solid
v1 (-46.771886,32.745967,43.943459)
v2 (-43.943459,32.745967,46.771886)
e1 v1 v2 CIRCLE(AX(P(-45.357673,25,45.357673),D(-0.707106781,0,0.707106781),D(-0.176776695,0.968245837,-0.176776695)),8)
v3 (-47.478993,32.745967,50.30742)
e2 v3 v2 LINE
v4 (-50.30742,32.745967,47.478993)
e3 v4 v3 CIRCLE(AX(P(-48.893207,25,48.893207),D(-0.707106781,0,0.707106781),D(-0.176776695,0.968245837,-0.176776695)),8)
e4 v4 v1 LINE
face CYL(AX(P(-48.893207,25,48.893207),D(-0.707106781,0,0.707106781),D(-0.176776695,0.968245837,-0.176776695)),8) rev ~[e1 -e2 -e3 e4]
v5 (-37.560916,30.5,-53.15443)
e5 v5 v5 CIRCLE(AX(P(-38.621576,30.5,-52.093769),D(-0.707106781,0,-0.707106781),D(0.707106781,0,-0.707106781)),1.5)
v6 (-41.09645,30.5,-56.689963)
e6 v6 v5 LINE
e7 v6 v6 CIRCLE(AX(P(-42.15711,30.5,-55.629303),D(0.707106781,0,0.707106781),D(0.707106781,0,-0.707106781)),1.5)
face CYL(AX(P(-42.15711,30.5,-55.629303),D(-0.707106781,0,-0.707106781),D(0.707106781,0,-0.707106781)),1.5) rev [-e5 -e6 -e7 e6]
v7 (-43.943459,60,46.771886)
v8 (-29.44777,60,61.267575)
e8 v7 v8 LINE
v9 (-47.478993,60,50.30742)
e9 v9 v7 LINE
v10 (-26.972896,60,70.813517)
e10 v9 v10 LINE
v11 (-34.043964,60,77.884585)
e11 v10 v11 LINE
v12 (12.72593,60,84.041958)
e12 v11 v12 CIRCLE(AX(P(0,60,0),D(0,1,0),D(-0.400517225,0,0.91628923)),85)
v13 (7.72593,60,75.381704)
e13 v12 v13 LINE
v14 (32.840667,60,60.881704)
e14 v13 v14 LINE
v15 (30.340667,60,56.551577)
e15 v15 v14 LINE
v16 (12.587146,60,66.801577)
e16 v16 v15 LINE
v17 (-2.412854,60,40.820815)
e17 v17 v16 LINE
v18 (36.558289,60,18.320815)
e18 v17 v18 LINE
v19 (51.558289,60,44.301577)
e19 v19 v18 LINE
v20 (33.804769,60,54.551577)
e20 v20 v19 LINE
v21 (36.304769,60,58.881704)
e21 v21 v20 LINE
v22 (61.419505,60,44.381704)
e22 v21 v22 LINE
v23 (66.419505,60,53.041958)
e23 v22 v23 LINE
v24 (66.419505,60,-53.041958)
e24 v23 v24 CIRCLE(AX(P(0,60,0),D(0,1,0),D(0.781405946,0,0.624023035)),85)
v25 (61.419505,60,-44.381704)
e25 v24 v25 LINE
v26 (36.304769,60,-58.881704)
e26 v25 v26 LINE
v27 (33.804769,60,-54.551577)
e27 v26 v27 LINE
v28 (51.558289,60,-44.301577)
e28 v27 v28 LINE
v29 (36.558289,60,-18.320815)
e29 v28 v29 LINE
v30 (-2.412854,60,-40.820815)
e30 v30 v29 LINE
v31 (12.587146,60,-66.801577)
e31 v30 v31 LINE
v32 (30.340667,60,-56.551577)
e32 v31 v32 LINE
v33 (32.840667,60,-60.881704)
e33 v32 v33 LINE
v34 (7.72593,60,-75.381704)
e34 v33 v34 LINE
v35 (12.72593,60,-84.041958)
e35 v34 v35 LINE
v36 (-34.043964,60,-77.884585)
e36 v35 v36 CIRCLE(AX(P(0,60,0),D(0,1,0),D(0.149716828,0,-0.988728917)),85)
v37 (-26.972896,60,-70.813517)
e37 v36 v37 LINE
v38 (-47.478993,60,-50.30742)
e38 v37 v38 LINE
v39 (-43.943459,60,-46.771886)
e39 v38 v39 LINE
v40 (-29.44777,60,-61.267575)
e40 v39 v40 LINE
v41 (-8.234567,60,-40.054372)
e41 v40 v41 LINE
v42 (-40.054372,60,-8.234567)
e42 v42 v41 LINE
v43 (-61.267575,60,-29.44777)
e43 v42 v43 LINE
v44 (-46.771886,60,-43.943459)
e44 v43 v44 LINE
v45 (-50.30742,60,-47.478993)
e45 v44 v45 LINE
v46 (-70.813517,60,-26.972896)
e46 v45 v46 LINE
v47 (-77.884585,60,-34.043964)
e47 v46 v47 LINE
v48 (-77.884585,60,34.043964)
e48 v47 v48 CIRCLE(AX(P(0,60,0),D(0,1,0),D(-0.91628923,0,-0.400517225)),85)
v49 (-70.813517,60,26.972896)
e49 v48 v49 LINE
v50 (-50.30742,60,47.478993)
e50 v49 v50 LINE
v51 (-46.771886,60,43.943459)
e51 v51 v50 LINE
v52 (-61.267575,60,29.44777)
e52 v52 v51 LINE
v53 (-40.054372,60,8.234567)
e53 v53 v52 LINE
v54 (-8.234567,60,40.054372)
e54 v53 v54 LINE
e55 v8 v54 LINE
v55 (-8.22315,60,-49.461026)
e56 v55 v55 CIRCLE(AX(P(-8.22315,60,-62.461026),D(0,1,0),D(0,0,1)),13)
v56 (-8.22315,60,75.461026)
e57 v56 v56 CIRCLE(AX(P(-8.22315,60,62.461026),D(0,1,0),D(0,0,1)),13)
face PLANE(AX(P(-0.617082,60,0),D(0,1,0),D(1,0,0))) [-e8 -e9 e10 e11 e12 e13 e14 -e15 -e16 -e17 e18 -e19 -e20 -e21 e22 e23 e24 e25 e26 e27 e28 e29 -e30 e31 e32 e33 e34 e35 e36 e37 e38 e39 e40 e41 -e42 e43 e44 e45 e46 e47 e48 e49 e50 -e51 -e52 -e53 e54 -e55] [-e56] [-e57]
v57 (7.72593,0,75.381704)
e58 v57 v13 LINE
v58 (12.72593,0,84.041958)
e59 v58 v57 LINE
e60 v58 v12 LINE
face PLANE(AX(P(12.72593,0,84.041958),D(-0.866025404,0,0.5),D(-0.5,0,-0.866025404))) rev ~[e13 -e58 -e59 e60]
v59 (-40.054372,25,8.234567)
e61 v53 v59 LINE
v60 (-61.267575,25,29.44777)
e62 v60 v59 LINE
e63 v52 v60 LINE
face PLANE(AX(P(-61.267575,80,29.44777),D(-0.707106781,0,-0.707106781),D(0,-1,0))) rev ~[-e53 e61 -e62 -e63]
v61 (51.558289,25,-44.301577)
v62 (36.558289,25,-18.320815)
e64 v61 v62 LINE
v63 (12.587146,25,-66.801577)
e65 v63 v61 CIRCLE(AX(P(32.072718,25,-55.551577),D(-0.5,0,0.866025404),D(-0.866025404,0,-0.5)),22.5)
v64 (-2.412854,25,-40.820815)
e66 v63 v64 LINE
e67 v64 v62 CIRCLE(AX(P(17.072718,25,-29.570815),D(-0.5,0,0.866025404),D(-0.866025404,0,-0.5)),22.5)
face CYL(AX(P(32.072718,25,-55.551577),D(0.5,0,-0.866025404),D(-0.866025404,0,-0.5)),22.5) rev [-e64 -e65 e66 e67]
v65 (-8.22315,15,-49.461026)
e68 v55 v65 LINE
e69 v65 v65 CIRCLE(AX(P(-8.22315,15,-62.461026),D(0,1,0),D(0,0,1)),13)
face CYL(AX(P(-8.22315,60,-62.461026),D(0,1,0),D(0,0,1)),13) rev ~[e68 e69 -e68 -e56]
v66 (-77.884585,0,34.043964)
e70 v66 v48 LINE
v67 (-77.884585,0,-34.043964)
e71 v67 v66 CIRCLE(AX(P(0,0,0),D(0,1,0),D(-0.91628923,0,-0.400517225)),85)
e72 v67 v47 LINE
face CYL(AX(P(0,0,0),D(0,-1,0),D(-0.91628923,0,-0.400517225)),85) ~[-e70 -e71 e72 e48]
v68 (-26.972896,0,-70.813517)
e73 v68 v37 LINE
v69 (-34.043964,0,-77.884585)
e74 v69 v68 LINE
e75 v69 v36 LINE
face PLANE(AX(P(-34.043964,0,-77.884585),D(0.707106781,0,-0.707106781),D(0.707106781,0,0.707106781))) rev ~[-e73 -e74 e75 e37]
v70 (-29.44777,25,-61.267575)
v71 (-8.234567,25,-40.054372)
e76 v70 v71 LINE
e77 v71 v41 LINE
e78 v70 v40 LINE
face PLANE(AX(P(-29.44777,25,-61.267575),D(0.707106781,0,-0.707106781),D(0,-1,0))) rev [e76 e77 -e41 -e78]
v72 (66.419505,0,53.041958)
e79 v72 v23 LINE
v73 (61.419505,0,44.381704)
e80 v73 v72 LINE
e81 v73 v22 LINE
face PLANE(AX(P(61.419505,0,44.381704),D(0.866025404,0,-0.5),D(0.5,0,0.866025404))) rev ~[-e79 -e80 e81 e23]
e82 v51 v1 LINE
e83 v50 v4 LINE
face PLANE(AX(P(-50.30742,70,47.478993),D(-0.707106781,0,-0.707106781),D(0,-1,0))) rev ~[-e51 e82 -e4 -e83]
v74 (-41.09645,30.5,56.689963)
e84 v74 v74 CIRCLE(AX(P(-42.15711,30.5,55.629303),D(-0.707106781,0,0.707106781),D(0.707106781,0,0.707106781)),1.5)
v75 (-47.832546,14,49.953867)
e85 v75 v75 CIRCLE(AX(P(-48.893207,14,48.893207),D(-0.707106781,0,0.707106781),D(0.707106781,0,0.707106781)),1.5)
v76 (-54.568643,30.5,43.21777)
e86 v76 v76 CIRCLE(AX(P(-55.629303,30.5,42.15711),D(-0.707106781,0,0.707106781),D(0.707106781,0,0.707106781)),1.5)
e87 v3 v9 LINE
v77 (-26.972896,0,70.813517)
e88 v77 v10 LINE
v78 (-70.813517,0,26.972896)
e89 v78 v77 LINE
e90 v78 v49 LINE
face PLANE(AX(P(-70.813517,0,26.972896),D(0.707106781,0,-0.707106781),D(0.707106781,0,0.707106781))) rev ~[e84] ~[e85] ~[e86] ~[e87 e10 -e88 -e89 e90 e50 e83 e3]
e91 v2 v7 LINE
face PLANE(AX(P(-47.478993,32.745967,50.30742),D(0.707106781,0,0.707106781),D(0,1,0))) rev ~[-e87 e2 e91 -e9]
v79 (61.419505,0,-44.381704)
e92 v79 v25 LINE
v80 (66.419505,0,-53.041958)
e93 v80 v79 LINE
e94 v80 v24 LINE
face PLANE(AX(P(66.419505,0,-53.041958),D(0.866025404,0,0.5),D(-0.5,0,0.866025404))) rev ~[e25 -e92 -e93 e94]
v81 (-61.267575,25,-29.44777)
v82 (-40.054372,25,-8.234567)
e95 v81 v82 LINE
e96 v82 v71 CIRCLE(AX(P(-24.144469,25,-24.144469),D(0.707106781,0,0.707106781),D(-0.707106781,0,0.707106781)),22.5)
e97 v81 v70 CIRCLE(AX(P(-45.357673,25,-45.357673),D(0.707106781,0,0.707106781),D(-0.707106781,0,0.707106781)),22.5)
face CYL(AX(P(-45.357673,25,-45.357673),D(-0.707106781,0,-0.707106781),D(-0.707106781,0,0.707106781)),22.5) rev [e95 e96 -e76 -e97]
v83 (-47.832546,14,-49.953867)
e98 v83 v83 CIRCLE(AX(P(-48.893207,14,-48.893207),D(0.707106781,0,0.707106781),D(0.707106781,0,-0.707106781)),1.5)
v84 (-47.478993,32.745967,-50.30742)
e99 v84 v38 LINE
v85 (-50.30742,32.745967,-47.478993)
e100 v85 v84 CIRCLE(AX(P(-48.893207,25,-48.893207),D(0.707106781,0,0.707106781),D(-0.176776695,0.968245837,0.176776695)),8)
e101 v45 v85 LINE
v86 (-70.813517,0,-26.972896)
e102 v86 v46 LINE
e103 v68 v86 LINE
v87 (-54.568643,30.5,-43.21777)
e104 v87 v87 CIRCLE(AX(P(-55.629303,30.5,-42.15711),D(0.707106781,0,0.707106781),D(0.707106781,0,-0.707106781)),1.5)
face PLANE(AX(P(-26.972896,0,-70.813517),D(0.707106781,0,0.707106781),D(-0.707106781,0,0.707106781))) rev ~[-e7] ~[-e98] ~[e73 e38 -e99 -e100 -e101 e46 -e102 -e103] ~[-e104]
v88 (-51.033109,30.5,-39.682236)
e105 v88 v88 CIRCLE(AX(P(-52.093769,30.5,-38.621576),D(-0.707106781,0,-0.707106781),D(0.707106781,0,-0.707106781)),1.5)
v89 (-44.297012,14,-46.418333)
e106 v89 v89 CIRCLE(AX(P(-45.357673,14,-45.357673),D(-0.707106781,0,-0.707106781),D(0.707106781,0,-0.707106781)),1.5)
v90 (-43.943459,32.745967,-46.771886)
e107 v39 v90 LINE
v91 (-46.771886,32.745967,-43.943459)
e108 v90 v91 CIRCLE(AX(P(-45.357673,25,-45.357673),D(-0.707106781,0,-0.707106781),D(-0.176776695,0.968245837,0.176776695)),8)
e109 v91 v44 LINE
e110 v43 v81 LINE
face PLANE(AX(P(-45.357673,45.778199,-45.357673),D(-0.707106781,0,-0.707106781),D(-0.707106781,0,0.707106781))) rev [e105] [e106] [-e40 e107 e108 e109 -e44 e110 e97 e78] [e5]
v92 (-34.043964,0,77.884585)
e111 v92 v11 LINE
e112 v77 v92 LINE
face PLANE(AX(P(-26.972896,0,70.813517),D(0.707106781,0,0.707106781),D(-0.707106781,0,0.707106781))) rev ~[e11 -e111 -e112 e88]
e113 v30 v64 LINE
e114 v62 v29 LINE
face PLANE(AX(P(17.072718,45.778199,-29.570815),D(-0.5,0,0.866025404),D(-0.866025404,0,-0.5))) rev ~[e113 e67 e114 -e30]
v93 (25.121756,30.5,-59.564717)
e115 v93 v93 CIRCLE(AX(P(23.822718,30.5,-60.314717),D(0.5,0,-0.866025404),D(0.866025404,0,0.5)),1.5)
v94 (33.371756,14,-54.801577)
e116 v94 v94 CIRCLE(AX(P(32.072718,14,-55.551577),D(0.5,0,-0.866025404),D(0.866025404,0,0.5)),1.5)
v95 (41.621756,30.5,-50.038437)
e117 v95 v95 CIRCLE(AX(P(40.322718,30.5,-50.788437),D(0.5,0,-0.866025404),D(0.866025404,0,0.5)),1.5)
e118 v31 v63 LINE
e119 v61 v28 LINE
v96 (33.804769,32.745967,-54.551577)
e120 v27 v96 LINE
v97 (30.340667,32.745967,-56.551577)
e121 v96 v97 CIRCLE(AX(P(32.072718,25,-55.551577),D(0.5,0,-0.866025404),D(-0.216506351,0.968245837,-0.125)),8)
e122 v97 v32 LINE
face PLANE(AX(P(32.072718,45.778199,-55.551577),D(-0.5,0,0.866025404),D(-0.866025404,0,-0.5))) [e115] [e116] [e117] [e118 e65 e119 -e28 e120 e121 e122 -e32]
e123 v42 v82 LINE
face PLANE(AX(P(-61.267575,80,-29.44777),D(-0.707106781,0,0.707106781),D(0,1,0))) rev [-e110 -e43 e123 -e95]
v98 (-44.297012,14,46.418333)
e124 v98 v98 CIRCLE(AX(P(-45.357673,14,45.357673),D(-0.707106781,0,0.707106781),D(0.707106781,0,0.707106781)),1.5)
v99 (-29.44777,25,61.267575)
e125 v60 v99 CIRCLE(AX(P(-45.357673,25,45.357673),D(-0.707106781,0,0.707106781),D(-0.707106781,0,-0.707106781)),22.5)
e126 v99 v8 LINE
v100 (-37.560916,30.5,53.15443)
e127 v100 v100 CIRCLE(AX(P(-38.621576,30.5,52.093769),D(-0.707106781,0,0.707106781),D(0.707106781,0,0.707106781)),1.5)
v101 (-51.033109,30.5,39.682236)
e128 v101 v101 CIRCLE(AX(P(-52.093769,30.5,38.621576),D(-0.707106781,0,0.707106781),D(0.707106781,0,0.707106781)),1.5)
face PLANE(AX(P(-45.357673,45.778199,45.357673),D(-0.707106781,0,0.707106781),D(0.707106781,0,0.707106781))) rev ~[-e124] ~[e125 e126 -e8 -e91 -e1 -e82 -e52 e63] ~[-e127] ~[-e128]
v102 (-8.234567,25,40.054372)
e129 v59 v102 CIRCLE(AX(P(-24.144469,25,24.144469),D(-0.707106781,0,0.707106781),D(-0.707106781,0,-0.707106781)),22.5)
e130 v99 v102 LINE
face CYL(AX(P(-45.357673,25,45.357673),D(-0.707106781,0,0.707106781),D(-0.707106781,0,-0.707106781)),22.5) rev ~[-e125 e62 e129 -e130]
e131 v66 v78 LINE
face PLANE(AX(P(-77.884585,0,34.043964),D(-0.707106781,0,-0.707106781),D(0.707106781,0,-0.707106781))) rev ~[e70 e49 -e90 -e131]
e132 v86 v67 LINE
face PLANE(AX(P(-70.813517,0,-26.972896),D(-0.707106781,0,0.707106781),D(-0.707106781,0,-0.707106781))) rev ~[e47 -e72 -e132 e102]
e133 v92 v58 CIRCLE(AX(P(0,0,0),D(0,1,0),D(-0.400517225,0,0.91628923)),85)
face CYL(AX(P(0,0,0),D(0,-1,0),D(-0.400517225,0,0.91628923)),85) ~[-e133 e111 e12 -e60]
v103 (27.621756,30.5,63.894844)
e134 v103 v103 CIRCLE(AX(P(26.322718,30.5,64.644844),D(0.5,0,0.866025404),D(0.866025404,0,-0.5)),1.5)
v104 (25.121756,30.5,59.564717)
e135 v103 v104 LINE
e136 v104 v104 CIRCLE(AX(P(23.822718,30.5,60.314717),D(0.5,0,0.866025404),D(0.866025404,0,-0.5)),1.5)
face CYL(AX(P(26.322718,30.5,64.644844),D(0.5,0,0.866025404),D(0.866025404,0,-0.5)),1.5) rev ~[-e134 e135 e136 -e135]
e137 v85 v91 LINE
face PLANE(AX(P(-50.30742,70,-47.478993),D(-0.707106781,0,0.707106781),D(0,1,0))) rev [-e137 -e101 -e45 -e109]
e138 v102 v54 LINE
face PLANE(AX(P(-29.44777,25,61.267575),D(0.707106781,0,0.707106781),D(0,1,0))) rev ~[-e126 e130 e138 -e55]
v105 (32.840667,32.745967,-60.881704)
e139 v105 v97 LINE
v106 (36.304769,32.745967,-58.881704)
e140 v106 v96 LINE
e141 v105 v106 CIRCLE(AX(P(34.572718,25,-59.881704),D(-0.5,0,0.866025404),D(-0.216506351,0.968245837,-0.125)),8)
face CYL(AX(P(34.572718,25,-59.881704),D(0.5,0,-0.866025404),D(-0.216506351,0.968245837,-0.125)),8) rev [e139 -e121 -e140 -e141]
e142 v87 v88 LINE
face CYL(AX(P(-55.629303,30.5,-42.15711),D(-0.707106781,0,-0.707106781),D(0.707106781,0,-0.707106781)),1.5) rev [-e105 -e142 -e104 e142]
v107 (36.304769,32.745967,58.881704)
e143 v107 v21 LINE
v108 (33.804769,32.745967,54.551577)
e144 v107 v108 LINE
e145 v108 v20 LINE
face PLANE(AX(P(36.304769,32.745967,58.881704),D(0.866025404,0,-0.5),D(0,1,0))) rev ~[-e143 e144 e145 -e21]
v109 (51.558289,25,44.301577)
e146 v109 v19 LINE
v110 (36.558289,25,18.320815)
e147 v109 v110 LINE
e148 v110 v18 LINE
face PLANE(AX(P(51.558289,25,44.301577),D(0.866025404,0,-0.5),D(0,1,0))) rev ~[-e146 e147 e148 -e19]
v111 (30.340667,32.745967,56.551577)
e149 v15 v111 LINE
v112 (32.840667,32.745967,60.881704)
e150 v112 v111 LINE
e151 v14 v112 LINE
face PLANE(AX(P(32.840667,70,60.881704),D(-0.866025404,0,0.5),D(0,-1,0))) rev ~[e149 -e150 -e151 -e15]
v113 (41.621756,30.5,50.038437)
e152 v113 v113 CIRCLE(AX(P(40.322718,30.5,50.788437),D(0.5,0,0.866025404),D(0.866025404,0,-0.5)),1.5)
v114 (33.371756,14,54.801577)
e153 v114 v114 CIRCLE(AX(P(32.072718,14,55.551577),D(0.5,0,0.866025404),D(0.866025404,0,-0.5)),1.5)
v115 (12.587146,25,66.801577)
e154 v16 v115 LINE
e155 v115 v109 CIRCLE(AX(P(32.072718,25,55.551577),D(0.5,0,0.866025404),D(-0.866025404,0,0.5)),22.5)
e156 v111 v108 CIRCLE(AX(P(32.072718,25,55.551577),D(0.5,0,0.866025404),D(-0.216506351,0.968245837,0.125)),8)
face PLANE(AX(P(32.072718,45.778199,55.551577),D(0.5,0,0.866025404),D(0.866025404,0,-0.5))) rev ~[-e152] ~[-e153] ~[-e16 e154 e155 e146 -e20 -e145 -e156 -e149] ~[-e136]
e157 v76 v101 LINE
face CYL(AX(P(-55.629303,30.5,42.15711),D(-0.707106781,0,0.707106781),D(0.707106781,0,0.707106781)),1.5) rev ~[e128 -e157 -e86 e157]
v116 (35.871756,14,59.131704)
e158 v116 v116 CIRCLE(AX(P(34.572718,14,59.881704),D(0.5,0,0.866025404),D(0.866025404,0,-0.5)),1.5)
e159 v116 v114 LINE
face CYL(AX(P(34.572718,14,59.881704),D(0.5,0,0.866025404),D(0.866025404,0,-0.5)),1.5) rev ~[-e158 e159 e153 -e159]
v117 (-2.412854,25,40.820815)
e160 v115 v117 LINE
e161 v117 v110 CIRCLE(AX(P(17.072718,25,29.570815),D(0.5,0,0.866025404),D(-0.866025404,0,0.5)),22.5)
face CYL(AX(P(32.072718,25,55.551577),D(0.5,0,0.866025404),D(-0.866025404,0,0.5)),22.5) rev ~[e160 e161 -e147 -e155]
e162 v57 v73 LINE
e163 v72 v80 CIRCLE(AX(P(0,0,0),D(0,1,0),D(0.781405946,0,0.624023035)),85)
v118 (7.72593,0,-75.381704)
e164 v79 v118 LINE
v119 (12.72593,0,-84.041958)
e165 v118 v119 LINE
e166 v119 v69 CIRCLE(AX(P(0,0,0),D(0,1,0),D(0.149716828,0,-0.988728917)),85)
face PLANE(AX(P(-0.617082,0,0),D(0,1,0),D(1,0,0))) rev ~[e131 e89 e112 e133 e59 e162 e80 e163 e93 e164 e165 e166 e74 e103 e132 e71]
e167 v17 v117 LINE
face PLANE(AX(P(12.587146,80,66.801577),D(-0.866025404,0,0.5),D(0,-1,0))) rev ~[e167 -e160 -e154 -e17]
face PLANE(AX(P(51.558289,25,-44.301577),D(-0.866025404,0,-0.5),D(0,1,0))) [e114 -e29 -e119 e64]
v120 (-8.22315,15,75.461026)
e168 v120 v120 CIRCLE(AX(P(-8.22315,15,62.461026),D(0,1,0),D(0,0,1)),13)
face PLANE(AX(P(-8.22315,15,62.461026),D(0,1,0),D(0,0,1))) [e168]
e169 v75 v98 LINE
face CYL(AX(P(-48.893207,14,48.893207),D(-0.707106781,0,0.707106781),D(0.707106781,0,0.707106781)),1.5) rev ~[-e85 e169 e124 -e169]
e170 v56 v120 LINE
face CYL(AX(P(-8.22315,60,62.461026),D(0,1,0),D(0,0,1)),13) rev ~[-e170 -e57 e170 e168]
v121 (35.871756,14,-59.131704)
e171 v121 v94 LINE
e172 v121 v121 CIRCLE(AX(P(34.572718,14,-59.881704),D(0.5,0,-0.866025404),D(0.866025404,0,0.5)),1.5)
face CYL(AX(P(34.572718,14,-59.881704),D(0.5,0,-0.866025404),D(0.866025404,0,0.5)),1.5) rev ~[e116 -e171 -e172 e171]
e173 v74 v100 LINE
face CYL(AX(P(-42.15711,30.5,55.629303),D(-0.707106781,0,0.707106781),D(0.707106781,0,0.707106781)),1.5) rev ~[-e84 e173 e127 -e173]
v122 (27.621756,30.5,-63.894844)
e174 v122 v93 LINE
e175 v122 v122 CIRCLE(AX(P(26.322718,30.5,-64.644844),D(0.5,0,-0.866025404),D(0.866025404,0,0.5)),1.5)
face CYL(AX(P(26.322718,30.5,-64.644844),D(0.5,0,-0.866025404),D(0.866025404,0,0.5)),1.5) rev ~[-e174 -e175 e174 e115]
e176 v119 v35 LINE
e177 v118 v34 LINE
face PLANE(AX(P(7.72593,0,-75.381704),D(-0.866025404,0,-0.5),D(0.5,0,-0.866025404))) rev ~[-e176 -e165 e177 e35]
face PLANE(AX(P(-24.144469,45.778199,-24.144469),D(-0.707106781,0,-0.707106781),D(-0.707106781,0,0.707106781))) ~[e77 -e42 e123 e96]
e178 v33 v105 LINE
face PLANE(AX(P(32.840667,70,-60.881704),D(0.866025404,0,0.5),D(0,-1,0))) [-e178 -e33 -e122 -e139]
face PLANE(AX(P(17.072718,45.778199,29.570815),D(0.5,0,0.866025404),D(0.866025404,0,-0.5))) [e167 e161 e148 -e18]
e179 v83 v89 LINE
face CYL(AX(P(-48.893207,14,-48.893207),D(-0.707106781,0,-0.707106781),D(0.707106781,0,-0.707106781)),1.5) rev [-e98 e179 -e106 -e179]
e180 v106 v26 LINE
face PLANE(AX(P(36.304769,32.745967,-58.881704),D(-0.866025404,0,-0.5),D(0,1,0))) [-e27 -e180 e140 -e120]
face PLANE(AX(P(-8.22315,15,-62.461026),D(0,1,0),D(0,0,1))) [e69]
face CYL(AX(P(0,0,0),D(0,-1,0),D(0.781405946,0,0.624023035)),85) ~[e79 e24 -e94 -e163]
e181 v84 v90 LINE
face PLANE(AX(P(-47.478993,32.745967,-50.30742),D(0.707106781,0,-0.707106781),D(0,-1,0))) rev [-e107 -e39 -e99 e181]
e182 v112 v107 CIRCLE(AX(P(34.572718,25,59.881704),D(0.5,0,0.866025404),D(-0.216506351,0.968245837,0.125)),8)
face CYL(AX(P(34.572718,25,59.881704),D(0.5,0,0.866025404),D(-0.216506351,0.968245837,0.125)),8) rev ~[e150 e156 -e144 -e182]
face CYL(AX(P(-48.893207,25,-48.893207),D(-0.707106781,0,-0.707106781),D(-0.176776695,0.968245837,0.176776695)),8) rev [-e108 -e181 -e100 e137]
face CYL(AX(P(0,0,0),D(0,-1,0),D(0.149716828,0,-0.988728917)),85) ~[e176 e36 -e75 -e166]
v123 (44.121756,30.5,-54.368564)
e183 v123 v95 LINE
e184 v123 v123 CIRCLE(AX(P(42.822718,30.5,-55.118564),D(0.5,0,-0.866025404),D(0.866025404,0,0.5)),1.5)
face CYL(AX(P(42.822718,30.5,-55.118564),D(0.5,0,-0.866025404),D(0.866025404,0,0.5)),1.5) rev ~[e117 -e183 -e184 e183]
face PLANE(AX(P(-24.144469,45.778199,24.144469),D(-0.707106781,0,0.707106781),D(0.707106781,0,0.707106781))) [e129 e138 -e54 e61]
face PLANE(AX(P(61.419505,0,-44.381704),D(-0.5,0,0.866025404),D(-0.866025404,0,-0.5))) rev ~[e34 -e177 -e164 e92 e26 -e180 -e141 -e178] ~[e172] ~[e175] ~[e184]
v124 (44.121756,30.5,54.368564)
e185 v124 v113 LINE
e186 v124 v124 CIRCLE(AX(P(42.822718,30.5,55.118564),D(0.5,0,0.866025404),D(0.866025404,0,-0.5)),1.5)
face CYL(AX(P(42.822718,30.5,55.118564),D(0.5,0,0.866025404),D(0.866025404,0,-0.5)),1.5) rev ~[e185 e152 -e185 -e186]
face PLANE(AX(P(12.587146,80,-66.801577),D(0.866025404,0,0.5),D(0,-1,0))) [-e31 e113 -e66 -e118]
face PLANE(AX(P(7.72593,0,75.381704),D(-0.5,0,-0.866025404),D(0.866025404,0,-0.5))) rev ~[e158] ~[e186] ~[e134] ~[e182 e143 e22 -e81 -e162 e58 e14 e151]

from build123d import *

# Parameters (mm, degrees)
BASE_DEPTH                = 60
MOTOR_TRASEIRO_START      = -5
MOTOR_TRASEIRO_DEPTH      = 30
ESBO_O3_10_R              = 1.5
MOTOR_EIXO_DEPTH          = 25
PADR_OCIRCULAR1_COUNT     = 2
PADR_OCIRCULAR1_ANGLE     = 285
ESPELHAR3_START           = -5
ESPELHAR3_COPY_1_DEPTH    = 30
ESPELHAR3_COPY_2_SKETCH_R = 1.5
ESPELHAR3_COPY_2_DEPTH    = 25
ESBO_O16_R                = 13
CAPACITORES_DEPTH         = 45


with BuildPart() as part:
    # Esboço1 → Base (new body)
    with BuildSketch(Plane(origin=(0, 0, 0), x_dir=(1, 0, 0), z_dir=(0, 1, 0))):
        with BuildLine():
            Line((-70.813516723, -26.97289629), (-26.97289629, -70.813516723))
            Line((-26.97289629, -70.813516723), (-34.043964102, -77.884584535))
            ThreePointArc((-34.043964102, -77.884584535), (-11.094726339, -84.272813217), (12.725930358, -84.041957953))
            Line((12.725930358, -84.041957953), (7.725930358, -75.381703915))
            Line((7.725930358, -75.381703915), (61.419505392, -44.381703915))
            Line((61.419505392, -44.381703915), (66.419505392, -53.041957953))
            ThreePointArc((66.419505392, -53.041957953), (85, 0), (66.419505392, 53.041957953))
            Line((66.419505392, 53.041957953), (61.419505392, 44.381703915))
            Line((61.419505392, 44.381703915), (7.725930358, 75.381703915))
            Line((7.725930358, 75.381703915), (12.725930358, 84.041957953))
            ThreePointArc((12.725930358, 84.041957953), (-11.094726339, 84.272813217), (-34.043964102, 77.884584535))
            Line((-34.043964102, 77.884584535), (-26.97289629, 70.813516723))
            Line((-26.97289629, 70.813516723), (-70.813516723, 26.97289629))
            Line((-70.813516723, 26.97289629), (-77.884584535, 34.043964102))
            ThreePointArc((-77.884584535, 34.043964102), (-85, 0), (-77.884584535, -34.043964102))
            Line((-77.884584535, -34.043964102), (-70.813516723, -26.97289629))
        make_face()
    extrude(amount=BASE_DEPTH)

    # Esboço3 → Motor-traseiro (cut)
    with BuildSketch(Plane(origin=(-48.893206507, 0, 48.893206507), x_dir=(0.7071067811865515, 0, 0.7071067811865436), z_dir=(-0.7071067811865436, 0, 0.7071067811865515)).offset(MOTOR_TRASEIRO_START)):
        with BuildLine():
            ThreePointArc((-22.5, 25), (0, 2.5), (22.5, 25))
            Line((22.5, 25), (22.5, 80))
            Line((22.5, 80), (-22.5, 80))
            Line((-22.5, 80), (-22.5, 25))
        make_face()
    motor_traseiro = extrude(amount=-MOTOR_TRASEIRO_DEPTH, mode=Mode.SUBTRACT)

    # Esboço3<10> → Motor-eixo (cut)
    with BuildSketch(Plane(origin=(-48.893206507, 0, 48.893206507), x_dir=(0.7071067811865515, 0, 0.7071067811865436), z_dir=(-0.7071067811865436, 0, 0.7071067811865515))):
        with BuildLine():
            Line((2, 32.745966692), (2, 70))
            Line((2, 70), (-2, 70))
            Line((-2, 70), (-2, 32.745966692))
            ThreePointArc((-2, 32.745966692), (0, 17), (2, 32.745966692))
        make_face()
        with Locations((0, 14)):
            Circle(ESBO_O3_10_R)
        with Locations((-9.526279442, 30.5)):
            Circle(ESBO_O3_10_R)
        with Locations((9.526279442, 30.5)):
            Circle(ESBO_O3_10_R)
    motor_eixo = extrude(amount=-MOTOR_EIXO_DEPTH, mode=Mode.SUBTRACT)

    # PadrãoCircular1: Motor-traseiro, Motor-eixo ×2 about axis
    padr_ocircular1_axis = Axis((0, 60, 0), (0, -1, 0))
    add([motor_traseiro.rotate(padr_ocircular1_axis, i * PADR_OCIRCULAR1_ANGLE / (PADR_OCIRCULAR1_COUNT - 1)) for i in range(1, PADR_OCIRCULAR1_COUNT)], mode=Mode.SUBTRACT)
    add([motor_eixo.rotate(padr_ocircular1_axis, i * PADR_OCIRCULAR1_ANGLE / (PADR_OCIRCULAR1_COUNT - 1)) for i in range(1, PADR_OCIRCULAR1_COUNT)], mode=Mode.SUBTRACT)

    # Espelhar3: Motor-traseiro, Motor-eixo across plane
    add(motor_traseiro.mirror(Plane.XY), mode=Mode.SUBTRACT)
    add(motor_eixo.mirror(Plane.XY), mode=Mode.SUBTRACT)

    # Espelhar3 copy 1 sketch → Espelhar3 copy 1 (cut)
    with BuildSketch(Plane(origin=(34.572717875, 0, -59.881703915), x_dir=(0.8660254037844427, 0, 0.499999999999993), z_dir=(0.499999999999993, 0, -0.8660254037844427)).offset(ESPELHAR3_START)):
        with BuildLine():
            ThreePointArc((-22.5, -25), (0, -2.5), (22.5, -25))
            Line((22.5, -25), (22.5, -80))
            Line((22.5, -80), (-22.5, -80))
            Line((-22.5, -80), (-22.5, -25))
        make_face()
    extrude(amount=-ESPELHAR3_COPY_1_DEPTH, mode=Mode.SUBTRACT)

    # Espelhar3 copy 2 sketch → Espelhar3 copy 2 (cut)
    with BuildSketch(Plane(origin=(34.572717875, 0, -59.881703915), x_dir=(0.8660254037844427, 0, 0.499999999999993), z_dir=(0.499999999999993, 0, -0.8660254037844427))):
        with BuildLine():
            Line((2, -32.745966692), (2, -70))
            Line((2, -70), (-2, -70))
            Line((-2, -70), (-2, -32.745966692))
            ThreePointArc((-2, -32.745966692), (0, -17), (2, -32.745966692))
        make_face()
        with Locations((0, -14)):
            Circle(ESPELHAR3_COPY_2_SKETCH_R)
        with Locations((-9.526279442, -30.5)):
            Circle(ESPELHAR3_COPY_2_SKETCH_R)
        with Locations((9.526279442, -30.5)):
            Circle(ESPELHAR3_COPY_2_SKETCH_R)
    extrude(amount=-ESPELHAR3_COPY_2_DEPTH, mode=Mode.SUBTRACT)

    # Esboço16 → Capacitores (cut)
    with BuildSketch(Plane(origin=(0, 60, 0), x_dir=(1, 0, 0), z_dir=(0, 1, 0))):
        with Locations(Location((-8.22315011, -62.461026267, 0), (0, 0, 270))):
            Circle(ESBO_O16_R)
        with Locations(Location((-8.22315011, 62.461026267, 0), (0, 0, 270))):
            Circle(ESBO_O16_R)
    extrude(amount=-CAPACITORES_DEPTH, mode=Mode.SUBTRACT)


solid = part.part
